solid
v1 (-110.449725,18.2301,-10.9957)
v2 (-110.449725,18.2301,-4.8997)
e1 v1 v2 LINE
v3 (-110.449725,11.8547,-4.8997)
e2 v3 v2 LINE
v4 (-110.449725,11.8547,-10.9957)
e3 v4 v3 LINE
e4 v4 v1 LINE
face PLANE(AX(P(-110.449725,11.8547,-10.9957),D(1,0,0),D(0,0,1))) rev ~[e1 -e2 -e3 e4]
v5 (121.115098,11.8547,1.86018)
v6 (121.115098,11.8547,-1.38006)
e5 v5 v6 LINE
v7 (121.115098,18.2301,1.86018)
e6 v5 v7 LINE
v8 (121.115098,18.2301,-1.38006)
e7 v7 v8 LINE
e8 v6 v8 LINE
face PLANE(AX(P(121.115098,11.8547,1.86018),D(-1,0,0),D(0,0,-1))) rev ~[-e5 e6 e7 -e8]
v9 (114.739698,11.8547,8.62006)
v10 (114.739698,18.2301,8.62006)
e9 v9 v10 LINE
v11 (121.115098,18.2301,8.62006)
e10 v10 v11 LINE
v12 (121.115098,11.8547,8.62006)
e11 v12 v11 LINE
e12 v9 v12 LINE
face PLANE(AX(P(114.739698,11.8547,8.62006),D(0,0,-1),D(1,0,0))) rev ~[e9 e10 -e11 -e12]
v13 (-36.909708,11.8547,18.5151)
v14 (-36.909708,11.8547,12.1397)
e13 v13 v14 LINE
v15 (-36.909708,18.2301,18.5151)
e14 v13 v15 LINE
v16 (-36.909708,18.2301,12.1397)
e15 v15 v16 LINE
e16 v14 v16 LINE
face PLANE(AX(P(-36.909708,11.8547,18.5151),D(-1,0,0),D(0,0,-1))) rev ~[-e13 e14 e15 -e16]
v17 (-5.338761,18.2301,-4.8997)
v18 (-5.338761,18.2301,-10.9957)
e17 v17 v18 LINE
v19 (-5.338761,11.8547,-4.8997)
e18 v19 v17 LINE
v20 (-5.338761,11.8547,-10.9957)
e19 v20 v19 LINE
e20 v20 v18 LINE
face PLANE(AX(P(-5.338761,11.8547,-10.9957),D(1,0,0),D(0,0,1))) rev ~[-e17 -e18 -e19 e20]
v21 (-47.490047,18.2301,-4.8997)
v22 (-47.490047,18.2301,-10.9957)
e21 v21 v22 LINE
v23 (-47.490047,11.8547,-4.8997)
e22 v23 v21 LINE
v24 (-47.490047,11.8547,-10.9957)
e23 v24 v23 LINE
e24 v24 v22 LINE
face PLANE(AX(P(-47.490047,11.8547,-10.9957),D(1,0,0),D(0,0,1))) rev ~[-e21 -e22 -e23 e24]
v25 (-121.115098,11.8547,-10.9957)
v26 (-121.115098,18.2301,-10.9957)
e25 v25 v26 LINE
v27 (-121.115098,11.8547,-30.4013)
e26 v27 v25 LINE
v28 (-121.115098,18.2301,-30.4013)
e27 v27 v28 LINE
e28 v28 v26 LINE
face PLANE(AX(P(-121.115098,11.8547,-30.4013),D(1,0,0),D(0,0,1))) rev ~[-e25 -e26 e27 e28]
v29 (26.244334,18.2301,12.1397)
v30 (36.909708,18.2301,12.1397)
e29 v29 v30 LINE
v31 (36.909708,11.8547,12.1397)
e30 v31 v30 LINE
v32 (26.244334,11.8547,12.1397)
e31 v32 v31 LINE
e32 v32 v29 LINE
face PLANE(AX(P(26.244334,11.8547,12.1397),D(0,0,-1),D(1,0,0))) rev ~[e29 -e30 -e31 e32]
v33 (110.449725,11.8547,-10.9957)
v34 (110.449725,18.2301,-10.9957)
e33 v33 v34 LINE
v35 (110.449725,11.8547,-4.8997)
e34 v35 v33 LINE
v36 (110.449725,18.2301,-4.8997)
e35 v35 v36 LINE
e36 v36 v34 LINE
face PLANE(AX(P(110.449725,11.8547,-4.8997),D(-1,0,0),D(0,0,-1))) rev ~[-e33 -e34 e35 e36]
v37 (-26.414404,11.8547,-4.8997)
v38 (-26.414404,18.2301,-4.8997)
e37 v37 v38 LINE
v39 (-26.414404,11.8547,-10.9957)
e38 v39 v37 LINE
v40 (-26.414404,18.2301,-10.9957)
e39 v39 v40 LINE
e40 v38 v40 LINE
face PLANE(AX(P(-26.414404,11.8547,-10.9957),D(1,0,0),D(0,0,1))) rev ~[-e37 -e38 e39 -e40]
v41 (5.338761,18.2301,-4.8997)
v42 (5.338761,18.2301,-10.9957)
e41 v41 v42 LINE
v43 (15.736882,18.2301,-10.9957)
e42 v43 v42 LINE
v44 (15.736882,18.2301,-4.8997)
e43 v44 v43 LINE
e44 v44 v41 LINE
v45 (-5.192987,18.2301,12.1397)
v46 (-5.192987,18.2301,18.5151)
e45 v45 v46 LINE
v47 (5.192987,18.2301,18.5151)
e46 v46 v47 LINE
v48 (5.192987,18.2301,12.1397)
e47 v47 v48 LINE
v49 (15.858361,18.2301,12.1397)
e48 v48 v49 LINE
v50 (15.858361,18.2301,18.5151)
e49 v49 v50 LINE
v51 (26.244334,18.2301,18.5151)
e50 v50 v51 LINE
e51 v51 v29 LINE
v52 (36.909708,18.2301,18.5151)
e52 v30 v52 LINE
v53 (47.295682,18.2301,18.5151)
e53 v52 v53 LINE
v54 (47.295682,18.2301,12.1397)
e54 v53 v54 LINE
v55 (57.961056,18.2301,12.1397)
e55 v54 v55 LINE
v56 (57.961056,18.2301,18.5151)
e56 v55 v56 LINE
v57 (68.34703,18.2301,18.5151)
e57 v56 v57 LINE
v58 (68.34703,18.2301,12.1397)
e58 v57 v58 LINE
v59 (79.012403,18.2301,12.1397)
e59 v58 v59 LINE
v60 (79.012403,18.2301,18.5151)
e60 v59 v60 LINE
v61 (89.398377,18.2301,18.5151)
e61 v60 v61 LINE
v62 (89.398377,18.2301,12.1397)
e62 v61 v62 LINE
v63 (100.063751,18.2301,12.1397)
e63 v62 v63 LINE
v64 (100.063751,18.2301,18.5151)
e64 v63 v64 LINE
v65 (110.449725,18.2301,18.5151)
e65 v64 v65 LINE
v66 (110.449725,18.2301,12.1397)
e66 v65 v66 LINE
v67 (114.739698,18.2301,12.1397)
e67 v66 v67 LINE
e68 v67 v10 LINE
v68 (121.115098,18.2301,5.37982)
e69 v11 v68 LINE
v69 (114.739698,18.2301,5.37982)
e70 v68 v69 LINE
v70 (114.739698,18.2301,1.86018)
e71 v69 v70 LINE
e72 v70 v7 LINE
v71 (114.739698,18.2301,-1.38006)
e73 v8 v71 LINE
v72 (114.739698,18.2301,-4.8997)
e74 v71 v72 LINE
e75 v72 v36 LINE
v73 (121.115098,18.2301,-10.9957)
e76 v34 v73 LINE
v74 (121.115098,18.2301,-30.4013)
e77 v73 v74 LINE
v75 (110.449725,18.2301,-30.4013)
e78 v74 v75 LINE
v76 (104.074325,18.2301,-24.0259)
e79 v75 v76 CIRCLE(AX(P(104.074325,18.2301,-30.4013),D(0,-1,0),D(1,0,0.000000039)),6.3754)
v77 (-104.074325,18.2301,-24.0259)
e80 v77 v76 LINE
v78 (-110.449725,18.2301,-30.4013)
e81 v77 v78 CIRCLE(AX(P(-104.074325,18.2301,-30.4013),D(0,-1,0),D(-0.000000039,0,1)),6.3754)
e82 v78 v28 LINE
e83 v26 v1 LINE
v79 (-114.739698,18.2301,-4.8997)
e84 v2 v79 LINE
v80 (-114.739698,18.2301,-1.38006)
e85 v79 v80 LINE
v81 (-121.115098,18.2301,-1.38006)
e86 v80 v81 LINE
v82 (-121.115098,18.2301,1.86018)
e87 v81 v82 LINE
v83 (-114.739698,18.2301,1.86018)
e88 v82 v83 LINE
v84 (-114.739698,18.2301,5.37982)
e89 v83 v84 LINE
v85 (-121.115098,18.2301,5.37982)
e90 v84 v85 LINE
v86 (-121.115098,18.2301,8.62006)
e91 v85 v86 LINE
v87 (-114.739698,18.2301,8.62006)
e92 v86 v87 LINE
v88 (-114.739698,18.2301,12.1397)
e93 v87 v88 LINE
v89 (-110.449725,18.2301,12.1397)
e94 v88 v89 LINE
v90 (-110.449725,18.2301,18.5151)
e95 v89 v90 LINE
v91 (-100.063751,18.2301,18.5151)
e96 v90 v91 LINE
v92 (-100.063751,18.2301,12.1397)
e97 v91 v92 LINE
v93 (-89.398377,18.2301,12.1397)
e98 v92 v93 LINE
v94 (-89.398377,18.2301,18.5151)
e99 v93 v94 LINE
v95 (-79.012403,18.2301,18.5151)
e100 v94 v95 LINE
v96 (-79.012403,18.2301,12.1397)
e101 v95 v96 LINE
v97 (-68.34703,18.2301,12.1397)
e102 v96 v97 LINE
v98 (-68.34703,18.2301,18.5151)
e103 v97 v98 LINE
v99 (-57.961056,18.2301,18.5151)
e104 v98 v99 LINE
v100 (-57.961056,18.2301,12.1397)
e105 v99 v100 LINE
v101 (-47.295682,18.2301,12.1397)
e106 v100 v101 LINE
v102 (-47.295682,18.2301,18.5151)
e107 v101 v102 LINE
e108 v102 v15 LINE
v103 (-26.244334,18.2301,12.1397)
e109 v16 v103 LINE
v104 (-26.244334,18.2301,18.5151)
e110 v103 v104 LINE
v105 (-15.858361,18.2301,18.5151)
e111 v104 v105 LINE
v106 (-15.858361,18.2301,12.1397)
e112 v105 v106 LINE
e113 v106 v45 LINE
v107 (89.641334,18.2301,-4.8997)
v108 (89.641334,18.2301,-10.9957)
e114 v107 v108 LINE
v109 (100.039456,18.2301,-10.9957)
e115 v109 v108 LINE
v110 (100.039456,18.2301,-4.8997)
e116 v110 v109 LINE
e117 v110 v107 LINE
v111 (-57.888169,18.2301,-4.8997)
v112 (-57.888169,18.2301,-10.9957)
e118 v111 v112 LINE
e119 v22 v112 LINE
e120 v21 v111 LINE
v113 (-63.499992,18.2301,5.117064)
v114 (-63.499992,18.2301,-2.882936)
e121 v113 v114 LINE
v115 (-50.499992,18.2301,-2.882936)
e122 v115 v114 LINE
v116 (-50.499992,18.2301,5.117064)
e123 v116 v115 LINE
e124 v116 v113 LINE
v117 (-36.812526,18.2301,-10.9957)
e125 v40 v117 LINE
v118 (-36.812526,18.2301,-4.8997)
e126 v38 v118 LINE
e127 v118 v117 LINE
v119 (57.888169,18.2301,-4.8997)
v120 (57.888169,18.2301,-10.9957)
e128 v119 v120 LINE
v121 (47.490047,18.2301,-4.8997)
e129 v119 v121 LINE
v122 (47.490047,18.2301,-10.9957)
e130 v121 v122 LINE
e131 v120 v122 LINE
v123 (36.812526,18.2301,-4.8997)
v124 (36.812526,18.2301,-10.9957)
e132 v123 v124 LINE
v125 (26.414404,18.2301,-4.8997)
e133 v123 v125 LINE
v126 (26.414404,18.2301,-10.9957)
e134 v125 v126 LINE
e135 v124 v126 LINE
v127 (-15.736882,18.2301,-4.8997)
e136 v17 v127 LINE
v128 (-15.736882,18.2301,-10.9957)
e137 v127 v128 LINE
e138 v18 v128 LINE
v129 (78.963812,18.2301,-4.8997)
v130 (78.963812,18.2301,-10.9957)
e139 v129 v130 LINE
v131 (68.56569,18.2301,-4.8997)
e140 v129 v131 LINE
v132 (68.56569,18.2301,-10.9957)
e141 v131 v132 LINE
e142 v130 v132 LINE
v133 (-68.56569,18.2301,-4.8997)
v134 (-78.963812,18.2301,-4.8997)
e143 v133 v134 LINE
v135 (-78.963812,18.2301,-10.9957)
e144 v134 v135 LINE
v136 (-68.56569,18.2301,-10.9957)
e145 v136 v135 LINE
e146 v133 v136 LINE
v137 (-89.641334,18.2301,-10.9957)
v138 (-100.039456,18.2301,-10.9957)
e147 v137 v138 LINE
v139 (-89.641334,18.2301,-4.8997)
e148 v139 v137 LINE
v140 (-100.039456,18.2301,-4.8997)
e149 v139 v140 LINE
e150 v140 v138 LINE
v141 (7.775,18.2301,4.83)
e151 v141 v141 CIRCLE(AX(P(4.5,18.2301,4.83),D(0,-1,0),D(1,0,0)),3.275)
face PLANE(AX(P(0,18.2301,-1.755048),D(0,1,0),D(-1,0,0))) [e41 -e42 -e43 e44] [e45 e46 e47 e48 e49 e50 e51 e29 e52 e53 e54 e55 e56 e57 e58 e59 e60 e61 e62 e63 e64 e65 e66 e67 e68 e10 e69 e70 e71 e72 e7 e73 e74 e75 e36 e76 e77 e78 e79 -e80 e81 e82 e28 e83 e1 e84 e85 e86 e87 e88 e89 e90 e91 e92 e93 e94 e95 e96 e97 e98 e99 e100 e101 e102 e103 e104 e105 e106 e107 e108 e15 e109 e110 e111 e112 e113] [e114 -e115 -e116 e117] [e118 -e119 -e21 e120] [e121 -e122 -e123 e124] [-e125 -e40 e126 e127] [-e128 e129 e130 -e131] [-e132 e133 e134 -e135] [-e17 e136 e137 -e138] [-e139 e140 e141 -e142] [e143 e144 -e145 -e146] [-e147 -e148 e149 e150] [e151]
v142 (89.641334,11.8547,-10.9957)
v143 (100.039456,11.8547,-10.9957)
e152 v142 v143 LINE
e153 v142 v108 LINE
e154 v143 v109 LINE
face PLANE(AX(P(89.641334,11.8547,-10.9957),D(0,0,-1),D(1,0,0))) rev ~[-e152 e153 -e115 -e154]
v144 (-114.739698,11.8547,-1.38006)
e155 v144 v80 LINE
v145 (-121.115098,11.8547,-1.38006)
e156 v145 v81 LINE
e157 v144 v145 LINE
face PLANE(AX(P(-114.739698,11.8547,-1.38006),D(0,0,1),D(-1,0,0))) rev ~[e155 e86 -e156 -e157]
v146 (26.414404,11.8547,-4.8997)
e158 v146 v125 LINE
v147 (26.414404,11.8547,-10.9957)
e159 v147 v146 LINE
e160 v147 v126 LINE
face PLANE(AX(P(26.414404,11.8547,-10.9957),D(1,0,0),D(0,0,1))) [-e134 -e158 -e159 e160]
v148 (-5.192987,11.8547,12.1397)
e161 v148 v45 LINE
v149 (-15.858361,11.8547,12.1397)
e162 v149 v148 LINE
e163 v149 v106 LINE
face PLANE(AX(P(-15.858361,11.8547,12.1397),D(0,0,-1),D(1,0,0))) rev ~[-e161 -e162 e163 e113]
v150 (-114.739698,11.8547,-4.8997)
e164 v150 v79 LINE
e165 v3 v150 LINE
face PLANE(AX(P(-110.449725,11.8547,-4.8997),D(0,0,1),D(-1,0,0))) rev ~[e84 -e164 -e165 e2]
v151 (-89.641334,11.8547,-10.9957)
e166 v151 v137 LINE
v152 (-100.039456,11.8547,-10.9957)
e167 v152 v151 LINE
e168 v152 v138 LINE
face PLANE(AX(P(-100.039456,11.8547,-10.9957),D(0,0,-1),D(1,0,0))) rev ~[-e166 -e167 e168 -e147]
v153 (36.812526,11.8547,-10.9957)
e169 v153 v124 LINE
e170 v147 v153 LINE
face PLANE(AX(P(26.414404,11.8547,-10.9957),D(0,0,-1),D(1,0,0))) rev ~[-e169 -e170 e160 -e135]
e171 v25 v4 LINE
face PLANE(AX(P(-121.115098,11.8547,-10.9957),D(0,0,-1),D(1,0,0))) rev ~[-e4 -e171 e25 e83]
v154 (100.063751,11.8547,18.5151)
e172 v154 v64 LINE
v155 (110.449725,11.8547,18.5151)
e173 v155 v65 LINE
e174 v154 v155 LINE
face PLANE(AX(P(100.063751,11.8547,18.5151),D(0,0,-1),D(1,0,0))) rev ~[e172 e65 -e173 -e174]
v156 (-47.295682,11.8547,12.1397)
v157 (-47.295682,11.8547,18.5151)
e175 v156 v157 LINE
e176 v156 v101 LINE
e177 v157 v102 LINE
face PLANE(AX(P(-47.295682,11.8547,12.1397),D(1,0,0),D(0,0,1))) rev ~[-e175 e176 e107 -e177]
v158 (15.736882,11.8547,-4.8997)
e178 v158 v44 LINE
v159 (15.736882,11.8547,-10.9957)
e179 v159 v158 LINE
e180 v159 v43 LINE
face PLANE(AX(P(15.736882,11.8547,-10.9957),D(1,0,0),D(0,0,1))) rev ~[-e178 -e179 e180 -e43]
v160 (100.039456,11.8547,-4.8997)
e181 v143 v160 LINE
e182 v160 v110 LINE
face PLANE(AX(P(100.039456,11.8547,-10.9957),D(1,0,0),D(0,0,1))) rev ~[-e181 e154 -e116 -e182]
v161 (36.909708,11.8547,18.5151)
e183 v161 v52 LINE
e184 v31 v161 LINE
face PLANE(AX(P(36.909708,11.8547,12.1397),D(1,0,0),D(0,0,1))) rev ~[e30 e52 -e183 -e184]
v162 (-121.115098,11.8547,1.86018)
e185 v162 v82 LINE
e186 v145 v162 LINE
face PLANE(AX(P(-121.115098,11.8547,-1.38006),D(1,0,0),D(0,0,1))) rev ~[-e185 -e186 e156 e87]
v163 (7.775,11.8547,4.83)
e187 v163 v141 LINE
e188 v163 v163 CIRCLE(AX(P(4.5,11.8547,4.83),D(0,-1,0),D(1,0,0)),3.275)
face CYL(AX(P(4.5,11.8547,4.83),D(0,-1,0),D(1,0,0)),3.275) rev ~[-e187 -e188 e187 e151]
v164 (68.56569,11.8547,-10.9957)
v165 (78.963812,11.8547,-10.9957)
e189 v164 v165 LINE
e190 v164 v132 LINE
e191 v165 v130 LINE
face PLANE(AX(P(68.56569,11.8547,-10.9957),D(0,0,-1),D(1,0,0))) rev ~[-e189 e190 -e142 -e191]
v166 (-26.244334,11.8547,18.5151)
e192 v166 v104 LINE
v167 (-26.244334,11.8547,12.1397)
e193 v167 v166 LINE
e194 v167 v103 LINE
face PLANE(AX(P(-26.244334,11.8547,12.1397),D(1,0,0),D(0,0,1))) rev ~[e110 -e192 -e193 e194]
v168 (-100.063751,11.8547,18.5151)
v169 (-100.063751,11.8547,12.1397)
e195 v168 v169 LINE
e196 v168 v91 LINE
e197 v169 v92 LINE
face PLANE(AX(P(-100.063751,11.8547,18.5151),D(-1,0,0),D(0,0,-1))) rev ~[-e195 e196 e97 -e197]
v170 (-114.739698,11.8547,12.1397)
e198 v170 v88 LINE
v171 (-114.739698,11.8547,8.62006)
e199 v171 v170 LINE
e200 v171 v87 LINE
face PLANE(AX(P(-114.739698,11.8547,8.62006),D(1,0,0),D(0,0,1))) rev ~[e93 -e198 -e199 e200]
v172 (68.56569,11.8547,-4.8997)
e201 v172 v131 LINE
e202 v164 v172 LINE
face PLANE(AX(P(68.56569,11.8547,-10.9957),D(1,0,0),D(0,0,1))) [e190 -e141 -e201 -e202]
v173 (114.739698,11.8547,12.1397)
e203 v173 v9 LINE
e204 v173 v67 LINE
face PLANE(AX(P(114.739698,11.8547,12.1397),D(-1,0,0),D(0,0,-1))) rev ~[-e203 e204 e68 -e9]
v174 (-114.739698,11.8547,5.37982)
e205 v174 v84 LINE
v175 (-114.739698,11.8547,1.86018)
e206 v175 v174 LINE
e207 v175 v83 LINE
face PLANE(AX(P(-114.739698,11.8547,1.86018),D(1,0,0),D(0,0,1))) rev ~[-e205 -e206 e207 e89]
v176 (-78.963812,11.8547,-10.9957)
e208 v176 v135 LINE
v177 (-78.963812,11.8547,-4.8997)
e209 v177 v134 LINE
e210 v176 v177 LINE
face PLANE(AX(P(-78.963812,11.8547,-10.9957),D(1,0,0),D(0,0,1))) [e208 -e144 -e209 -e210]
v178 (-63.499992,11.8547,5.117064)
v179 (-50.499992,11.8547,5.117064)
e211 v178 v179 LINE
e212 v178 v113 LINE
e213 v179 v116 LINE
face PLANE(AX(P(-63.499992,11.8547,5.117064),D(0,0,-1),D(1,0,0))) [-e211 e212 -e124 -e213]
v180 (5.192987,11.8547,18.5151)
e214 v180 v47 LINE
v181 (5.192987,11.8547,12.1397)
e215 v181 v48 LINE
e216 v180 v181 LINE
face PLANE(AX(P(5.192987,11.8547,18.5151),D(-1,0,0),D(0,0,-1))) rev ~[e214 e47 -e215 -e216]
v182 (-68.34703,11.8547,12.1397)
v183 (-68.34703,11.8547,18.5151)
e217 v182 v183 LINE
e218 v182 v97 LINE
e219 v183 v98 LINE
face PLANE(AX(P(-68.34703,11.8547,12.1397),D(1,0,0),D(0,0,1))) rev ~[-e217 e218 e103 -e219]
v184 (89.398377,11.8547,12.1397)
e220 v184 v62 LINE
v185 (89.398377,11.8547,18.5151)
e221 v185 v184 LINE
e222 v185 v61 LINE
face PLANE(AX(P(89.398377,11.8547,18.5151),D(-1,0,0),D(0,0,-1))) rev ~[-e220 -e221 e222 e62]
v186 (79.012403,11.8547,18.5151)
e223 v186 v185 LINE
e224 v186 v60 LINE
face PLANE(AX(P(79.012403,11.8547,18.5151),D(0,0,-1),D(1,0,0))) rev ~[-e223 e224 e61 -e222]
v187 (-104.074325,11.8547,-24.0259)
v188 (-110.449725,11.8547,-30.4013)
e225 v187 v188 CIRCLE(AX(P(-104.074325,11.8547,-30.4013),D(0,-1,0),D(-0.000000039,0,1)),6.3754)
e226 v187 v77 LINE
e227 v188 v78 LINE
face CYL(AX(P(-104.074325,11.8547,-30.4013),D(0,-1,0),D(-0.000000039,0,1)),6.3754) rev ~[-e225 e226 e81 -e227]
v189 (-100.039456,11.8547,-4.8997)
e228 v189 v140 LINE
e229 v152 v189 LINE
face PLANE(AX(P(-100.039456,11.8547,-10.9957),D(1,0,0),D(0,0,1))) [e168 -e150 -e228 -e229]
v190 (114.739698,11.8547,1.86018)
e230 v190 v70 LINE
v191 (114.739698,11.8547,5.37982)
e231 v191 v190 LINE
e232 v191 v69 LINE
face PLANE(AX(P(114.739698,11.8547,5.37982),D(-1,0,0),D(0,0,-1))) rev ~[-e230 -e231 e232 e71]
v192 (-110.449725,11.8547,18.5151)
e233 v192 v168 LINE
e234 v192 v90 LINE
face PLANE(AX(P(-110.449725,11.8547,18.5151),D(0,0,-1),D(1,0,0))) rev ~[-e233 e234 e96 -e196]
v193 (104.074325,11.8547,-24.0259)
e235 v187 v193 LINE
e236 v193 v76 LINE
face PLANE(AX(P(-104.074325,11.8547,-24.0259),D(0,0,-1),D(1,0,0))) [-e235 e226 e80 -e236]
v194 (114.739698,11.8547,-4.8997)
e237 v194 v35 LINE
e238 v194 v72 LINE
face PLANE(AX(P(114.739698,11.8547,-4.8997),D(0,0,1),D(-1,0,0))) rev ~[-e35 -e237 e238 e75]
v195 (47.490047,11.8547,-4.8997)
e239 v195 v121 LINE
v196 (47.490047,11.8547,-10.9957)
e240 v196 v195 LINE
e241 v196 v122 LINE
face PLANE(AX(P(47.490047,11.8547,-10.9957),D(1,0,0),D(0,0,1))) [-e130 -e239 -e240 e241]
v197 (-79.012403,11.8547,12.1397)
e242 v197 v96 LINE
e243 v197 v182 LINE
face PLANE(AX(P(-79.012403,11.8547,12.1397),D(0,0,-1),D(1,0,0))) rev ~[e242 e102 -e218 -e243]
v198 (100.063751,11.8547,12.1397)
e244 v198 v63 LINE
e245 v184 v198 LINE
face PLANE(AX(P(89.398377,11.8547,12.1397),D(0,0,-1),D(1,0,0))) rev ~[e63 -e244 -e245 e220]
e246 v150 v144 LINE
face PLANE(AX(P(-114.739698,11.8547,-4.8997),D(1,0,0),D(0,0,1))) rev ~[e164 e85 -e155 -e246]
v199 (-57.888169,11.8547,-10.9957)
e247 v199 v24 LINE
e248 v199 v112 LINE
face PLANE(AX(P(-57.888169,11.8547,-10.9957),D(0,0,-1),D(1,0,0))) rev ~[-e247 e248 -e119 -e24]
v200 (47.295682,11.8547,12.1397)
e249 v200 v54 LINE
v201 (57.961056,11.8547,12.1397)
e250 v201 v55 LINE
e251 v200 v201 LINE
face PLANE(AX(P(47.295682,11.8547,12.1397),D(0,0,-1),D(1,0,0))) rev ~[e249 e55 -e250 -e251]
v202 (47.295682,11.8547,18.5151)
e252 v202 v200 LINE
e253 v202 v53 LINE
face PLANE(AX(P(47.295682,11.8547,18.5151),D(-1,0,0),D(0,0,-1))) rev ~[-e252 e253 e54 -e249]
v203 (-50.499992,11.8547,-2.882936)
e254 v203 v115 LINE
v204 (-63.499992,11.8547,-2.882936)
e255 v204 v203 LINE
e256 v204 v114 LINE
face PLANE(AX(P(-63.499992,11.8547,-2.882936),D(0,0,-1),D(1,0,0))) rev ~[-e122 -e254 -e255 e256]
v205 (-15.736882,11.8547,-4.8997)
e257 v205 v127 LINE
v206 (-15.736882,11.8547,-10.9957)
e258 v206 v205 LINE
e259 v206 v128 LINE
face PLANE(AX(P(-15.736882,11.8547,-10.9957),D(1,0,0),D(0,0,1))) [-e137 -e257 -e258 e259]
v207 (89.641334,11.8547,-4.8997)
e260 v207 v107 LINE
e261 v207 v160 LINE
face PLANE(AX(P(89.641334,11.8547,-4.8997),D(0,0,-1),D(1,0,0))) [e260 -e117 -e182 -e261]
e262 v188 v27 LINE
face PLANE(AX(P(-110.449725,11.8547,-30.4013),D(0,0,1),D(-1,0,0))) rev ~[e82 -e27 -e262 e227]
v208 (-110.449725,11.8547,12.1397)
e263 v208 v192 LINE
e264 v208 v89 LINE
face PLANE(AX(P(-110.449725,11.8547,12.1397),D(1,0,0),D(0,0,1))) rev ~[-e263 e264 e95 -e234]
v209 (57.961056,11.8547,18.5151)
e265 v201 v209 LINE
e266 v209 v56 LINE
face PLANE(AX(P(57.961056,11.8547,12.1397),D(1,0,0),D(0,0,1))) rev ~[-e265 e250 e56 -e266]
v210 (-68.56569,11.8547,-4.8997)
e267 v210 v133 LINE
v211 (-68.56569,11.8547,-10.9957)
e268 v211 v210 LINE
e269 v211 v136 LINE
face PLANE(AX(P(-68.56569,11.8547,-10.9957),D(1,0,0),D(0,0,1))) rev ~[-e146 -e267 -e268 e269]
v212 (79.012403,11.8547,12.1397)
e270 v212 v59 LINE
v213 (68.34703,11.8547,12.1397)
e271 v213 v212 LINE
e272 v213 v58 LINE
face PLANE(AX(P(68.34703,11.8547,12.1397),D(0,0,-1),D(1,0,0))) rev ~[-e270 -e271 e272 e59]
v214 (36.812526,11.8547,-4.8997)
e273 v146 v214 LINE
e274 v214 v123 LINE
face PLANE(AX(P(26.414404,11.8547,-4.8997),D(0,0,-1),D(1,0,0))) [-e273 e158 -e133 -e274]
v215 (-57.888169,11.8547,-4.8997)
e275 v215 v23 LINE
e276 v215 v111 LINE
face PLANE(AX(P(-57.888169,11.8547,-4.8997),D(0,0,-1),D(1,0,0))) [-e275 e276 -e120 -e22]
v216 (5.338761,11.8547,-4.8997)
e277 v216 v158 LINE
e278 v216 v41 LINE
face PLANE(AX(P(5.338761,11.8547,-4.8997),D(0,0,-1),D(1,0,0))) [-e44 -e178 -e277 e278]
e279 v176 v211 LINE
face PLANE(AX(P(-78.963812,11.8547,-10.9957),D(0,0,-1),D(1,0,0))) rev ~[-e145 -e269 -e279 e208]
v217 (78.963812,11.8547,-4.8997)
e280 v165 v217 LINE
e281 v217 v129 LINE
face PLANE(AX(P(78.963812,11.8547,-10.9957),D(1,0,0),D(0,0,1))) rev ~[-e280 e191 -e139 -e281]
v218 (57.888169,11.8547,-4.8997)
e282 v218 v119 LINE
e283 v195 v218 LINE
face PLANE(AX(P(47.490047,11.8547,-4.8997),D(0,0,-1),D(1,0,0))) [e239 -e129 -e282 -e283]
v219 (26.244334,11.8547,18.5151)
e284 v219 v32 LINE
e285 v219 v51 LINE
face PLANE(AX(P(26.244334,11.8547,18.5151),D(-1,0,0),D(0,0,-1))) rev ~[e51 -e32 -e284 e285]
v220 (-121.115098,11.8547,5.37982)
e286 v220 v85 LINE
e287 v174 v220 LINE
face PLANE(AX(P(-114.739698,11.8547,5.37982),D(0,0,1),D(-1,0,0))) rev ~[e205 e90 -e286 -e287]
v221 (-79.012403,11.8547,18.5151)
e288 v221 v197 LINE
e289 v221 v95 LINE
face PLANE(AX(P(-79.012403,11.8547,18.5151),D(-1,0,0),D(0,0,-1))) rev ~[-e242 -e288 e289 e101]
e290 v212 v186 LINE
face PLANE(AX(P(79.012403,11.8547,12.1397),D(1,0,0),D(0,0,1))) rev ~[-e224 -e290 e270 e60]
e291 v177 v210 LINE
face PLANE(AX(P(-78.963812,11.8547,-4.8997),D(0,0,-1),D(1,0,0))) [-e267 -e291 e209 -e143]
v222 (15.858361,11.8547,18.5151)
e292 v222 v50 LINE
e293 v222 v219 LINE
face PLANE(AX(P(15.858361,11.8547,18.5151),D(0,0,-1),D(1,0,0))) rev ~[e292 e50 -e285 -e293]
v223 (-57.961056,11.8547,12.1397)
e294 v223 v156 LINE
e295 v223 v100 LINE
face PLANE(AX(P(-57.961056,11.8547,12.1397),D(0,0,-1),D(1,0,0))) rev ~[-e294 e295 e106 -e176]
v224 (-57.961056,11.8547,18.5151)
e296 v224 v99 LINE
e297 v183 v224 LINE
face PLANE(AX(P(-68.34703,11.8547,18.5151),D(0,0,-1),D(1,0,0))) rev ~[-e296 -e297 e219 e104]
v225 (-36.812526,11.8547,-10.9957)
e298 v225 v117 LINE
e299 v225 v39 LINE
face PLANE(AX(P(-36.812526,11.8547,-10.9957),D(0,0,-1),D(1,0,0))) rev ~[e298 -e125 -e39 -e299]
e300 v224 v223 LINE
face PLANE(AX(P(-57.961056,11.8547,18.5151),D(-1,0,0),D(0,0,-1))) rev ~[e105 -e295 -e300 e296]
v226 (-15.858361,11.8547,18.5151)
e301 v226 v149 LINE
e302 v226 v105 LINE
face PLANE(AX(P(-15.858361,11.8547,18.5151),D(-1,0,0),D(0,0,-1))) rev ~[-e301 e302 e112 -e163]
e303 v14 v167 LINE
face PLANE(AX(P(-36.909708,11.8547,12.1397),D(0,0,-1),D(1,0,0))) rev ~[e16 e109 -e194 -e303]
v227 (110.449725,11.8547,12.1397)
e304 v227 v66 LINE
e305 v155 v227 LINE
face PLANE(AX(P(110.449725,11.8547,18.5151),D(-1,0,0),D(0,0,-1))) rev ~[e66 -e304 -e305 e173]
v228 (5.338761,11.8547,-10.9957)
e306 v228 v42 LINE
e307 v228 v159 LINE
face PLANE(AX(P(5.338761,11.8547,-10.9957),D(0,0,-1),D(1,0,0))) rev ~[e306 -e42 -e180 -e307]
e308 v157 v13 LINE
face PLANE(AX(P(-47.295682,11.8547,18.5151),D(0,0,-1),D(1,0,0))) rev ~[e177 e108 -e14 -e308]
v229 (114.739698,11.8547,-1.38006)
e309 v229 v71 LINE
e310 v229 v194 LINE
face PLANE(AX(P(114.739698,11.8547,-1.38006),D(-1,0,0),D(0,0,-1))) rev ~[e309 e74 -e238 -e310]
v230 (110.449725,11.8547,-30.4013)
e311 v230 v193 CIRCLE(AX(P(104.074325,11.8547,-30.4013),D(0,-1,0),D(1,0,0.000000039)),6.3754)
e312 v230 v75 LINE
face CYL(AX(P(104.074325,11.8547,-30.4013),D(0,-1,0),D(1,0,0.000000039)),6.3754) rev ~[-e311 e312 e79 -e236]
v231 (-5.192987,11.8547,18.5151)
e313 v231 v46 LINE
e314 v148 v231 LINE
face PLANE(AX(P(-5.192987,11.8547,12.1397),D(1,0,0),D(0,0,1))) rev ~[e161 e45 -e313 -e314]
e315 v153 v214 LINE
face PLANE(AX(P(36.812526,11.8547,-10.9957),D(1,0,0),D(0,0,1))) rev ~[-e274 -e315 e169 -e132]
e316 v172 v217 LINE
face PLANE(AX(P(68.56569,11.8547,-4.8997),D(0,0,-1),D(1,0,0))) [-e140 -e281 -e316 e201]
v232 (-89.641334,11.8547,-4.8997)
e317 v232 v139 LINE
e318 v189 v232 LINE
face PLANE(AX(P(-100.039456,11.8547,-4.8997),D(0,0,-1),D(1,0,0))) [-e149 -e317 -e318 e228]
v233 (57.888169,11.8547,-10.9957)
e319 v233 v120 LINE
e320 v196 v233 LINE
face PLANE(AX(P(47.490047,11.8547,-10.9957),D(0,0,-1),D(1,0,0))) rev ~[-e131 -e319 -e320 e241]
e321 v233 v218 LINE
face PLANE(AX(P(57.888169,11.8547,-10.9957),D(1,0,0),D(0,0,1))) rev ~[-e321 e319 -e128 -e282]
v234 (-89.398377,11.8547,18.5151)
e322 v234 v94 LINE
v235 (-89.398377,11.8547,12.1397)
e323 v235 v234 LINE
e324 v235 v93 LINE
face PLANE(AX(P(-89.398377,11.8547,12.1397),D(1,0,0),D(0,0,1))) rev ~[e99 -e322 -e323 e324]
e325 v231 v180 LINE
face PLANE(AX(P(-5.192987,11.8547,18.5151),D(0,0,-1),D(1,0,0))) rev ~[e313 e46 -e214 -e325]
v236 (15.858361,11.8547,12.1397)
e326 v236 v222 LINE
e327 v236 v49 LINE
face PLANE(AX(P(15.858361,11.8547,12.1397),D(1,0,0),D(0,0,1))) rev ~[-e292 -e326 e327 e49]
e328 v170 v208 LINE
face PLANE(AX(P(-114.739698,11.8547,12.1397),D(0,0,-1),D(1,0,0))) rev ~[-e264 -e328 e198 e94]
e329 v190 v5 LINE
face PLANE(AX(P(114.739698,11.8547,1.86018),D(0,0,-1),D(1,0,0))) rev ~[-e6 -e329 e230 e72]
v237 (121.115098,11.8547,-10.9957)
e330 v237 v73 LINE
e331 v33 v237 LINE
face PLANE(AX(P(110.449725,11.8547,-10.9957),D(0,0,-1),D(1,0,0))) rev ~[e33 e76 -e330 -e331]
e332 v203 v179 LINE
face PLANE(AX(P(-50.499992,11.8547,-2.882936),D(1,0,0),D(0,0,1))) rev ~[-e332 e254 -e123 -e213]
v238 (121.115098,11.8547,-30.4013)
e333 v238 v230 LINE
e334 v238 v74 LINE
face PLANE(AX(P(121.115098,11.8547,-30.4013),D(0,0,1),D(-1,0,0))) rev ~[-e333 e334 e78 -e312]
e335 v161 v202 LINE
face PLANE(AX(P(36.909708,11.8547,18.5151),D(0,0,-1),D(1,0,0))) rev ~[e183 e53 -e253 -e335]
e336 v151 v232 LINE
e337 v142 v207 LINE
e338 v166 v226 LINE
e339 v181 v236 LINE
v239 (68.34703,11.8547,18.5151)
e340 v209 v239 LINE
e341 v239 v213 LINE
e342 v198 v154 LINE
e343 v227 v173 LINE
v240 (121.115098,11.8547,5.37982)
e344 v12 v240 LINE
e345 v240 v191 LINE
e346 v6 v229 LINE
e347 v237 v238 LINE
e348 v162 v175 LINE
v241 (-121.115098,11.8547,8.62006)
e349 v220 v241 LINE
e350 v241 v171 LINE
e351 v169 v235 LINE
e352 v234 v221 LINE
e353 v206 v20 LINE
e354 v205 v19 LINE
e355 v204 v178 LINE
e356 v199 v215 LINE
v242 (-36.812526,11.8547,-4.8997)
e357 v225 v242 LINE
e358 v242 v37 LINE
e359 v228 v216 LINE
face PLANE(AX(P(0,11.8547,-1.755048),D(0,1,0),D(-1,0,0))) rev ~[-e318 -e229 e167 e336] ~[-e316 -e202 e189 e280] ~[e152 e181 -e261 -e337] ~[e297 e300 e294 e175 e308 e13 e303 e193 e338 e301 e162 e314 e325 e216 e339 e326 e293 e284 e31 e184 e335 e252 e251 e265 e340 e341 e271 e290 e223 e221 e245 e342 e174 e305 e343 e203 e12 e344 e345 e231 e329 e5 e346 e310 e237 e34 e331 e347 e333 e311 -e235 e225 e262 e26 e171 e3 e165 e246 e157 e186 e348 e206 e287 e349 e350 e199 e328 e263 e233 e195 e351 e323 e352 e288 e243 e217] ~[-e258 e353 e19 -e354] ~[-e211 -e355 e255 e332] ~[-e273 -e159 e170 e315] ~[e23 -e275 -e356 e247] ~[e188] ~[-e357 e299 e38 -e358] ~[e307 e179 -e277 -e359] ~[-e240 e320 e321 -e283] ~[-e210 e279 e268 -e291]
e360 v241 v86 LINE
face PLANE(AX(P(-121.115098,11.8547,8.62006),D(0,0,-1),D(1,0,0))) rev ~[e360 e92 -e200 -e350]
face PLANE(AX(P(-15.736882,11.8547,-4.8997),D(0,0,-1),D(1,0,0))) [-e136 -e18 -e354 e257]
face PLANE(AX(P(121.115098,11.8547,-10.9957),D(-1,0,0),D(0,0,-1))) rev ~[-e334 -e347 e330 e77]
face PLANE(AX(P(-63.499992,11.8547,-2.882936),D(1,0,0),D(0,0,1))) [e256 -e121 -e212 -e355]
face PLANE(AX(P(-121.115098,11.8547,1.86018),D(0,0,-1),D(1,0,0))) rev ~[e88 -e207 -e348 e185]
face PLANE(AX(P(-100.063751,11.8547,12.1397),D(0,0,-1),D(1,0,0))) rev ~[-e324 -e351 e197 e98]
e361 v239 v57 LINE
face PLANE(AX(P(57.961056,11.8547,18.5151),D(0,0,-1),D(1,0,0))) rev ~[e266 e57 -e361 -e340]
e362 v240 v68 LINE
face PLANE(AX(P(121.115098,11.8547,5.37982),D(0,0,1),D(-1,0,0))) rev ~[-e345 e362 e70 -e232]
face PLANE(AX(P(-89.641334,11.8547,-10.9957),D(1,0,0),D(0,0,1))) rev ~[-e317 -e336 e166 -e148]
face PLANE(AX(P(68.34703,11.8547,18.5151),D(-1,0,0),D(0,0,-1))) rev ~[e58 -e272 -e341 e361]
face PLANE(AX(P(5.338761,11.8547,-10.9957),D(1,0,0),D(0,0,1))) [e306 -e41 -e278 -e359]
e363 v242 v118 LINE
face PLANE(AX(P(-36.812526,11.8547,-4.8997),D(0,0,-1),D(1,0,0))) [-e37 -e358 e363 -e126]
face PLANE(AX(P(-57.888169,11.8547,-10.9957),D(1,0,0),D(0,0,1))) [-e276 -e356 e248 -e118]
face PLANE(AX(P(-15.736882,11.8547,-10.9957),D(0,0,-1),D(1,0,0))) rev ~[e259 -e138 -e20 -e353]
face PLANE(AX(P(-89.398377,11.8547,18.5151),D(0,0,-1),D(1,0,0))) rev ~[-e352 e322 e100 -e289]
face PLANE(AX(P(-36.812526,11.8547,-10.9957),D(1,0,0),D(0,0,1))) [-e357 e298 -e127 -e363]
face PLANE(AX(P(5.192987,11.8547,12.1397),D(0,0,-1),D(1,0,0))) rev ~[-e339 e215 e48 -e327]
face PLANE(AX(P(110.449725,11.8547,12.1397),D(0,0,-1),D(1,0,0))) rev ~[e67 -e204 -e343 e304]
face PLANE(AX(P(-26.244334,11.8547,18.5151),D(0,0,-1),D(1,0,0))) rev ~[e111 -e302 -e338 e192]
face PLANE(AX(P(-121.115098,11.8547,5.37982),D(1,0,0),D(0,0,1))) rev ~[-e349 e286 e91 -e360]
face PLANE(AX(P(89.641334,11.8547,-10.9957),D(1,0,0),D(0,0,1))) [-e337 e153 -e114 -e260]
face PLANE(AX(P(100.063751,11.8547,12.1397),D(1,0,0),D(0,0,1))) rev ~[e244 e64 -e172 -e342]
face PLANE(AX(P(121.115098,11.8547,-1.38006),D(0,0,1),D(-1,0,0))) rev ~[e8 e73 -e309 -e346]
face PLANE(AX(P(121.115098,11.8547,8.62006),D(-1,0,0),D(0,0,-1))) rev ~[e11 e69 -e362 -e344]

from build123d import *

# Parameters (mm, degrees)
PAD006_DEPTH    = 6.3754
SKETCH009_W     = 10.398121
SKETCH009_H     = 6.096
SKETCH009_W_2   = 10.398122
POCKET002_DEPTH = 7.3754
SKETCH011_R     = 3.275
SKETCH011_W     = 13
SKETCH011_H     = 8
POCKET004_DEPTH = 7.3754


with BuildPart() as part:
    # Sketch008 (on DatumPlane) → Pad006 (new body)
    with BuildSketch(Plane.XZ.offset(-11.8547)):
        with BuildLine():
            Line((-110.449725, -30.4013), (-121.115098, -30.4013))
            Line((-121.115098, -30.4013), (-121.115098, -10.9957))
            Line((-121.115098, -10.9957), (-110.449725, -10.9957))
            Line((-110.449725, -10.9957), (-110.449725, -4.8997))
            Line((-110.449725, -4.8997), (-114.739698, -4.8997))
            Line((-114.739698, -4.8997), (-114.739698, -1.38006))
            Line((-114.739698, -1.38006), (-121.115098, -1.38006))
            Line((-121.115098, -1.38006), (-121.115098, 1.86018))
            Line((-121.115098, 1.86018), (-114.739698, 1.86018))
            Line((-114.739698, 1.86018), (-114.739698, 5.37982))
            Line((-114.739698, 5.37982), (-121.115098, 5.37982))
            Line((-121.115098, 5.37982), (-121.115098, 8.62006))
            Line((-121.115098, 8.62006), (-114.739698, 8.62006))
            Line((-114.739698, 8.62006), (-114.739698, 12.1397))
            Line((-114.739698, 12.1397), (-110.449725, 12.1397))
            Line((-110.449725, 12.1397), (-110.449725, 18.5151))
            Line((-110.449725, 18.5151), (-100.063751, 18.5151))
            Line((-100.063751, 18.5151), (-100.063751, 12.1397))
            Line((-100.063751, 12.1397), (-89.398377, 12.1397))
            Line((-89.398377, 12.1397), (-89.398377, 18.5151))
            Line((-89.398377, 18.5151), (-79.012403, 18.5151))
            Line((-79.012403, 18.5151), (-79.012403, 12.1397))
            Line((-79.012403, 12.1397), (-68.34703, 12.1397))
            Line((-68.34703, 12.1397), (-68.34703, 18.5151))
            Line((-68.34703, 18.5151), (-57.961056, 18.5151))
            Line((-57.961056, 18.5151), (-57.961056, 12.1397))
            Line((-57.961056, 12.1397), (-47.295682, 12.1397))
            Line((-47.295682, 12.1397), (-47.295682, 18.5151))
            Line((-47.295682, 18.5151), (-36.909708, 18.5151))
            Line((-36.909708, 18.5151), (-36.909708, 12.1397))
            Line((-36.909708, 12.1397), (-26.244334, 12.1397))
            Line((-26.244334, 12.1397), (-26.244334, 18.5151))
            Line((-26.244334, 18.5151), (-15.858361, 18.5151))
            Line((-15.858361, 18.5151), (-15.858361, 12.1397))
            Line((-15.858361, 12.1397), (-5.192987, 12.1397))
            Line((-5.192987, 12.1397), (-5.192987, 18.5151))
            Line((-5.192987, 18.5151), (5.192987, 18.5151))
            Line((5.192987, 18.5151), (5.192987, 12.1397))
            Line((5.192987, 12.1397), (15.858361, 12.1397))
            Line((15.858361, 12.1397), (15.858361, 18.5151))
            Line((15.858361, 18.5151), (26.244334, 18.5151))
            Line((26.244334, 18.5151), (26.244334, 12.1397))
            Line((26.244334, 12.1397), (36.909708, 12.1397))
            Line((36.909708, 12.1397), (36.909708, 18.5151))
            Line((36.909708, 18.5151), (47.295682, 18.5151))
            Line((47.295682, 18.5151), (47.295682, 12.1397))
            Line((47.295682, 12.1397), (57.961056, 12.1397))
            Line((57.961056, 12.1397), (57.961056, 18.5151))
            Line((57.961056, 18.5151), (68.34703, 18.5151))
            Line((68.34703, 18.5151), (68.34703, 12.1397))
            Line((68.34703, 12.1397), (79.012403, 12.1397))
            Line((79.012403, 12.1397), (79.012403, 18.5151))
            Line((79.012403, 18.5151), (89.398377, 18.5151))
            Line((89.398377, 18.5151), (89.398377, 12.1397))
            Line((89.398377, 12.1397), (100.063751, 12.1397))
            Line((100.063751, 12.1397), (100.063751, 18.5151))
            Line((100.063751, 18.5151), (110.449725, 18.5151))
            Line((110.449725, 18.5151), (110.449725, 12.1397))
            Line((110.449725, 12.1397), (114.739698, 12.1397))
            Line((114.739698, 12.1397), (114.739698, 8.62006))
            Line((114.739698, 8.62006), (121.115098, 8.62006))
            Line((121.115098, 8.62006), (121.115098, 5.37982))
            Line((121.115098, 5.37982), (114.739698, 5.37982))
            Line((114.739698, 5.37982), (114.739698, 1.86018))
            Line((114.739698, 1.86018), (121.115098, 1.86018))
            Line((121.115098, 1.86018), (121.115098, -1.38006))
            Line((121.115098, -1.38006), (114.739698, -1.38006))
            Line((114.739698, -1.38006), (114.739698, -4.8997))
            Line((114.739698, -4.8997), (110.449725, -4.8997))
            Line((110.449725, -4.8997), (110.449725, -10.9957))
            Line((110.449725, -10.9957), (121.115098, -10.9957))
            Line((121.115098, -10.9957), (121.115098, -30.4013))
            Line((121.115098, -30.4013), (110.449725, -30.4013))
            ThreePointArc((110.449725, -30.4013), (108.582413, -25.893211), (104.074325, -24.0259))
            Line((-104.074325, -24.0259), (104.074325, -24.0259))
            ThreePointArc((-104.074325, -24.0259), (-108.582413, -25.893211), (-110.449725, -30.4013))
        make_face()
    extrude(amount=-PAD006_DEPTH)

    # Sketch009 (on Face77 of Pad006) → Pocket002 (cut)
    with BuildSketch(Plane.XZ.offset(-11.8547)):
        with Locations((-94.840395, -7.9477)):
            Rectangle(SKETCH009_W, SKETCH009_H)
        with Locations((-73.764751, -7.9477)):
            Rectangle(SKETCH009_W_2, SKETCH009_H)
        with Locations((-52.689108, -7.9477)):
            Rectangle(SKETCH009_W_2, SKETCH009_H)
        with Locations((-31.613465, -7.9477)):
            Rectangle(SKETCH009_W_2, SKETCH009_H)
        with Locations((-10.537821, -7.9477)):
            Rectangle(SKETCH009_W, SKETCH009_H)
        with Locations((10.537821, -7.9477)):
            Rectangle(SKETCH009_W, SKETCH009_H)
        with Locations((31.613465, -7.9477)):
            Rectangle(SKETCH009_W_2, SKETCH009_H)
        with Locations((52.689108, -7.9477)):
            Rectangle(SKETCH009_W_2, SKETCH009_H)
        with Locations((73.764751, -7.9477)):
            Rectangle(SKETCH009_W_2, SKETCH009_H)
        with Locations((94.840395, -7.9477)):
            Rectangle(SKETCH009_W, SKETCH009_H)
    extrude(amount=-POCKET002_DEPTH, mode=Mode.SUBTRACT)

    # Sketch011 (on Face4 of Pocket002) → Pocket004 (cut)
    with BuildSketch(Plane.XZ.offset(-11.8547)):
        with Locations((4.5, 4.83)):
            Circle(SKETCH011_R)
        with Locations((-56.999992, 1.117064)):
            Rectangle(SKETCH011_W, SKETCH011_H)
    extrude(amount=-POCKET004_DEPTH, mode=Mode.SUBTRACT)


solid = part.part
